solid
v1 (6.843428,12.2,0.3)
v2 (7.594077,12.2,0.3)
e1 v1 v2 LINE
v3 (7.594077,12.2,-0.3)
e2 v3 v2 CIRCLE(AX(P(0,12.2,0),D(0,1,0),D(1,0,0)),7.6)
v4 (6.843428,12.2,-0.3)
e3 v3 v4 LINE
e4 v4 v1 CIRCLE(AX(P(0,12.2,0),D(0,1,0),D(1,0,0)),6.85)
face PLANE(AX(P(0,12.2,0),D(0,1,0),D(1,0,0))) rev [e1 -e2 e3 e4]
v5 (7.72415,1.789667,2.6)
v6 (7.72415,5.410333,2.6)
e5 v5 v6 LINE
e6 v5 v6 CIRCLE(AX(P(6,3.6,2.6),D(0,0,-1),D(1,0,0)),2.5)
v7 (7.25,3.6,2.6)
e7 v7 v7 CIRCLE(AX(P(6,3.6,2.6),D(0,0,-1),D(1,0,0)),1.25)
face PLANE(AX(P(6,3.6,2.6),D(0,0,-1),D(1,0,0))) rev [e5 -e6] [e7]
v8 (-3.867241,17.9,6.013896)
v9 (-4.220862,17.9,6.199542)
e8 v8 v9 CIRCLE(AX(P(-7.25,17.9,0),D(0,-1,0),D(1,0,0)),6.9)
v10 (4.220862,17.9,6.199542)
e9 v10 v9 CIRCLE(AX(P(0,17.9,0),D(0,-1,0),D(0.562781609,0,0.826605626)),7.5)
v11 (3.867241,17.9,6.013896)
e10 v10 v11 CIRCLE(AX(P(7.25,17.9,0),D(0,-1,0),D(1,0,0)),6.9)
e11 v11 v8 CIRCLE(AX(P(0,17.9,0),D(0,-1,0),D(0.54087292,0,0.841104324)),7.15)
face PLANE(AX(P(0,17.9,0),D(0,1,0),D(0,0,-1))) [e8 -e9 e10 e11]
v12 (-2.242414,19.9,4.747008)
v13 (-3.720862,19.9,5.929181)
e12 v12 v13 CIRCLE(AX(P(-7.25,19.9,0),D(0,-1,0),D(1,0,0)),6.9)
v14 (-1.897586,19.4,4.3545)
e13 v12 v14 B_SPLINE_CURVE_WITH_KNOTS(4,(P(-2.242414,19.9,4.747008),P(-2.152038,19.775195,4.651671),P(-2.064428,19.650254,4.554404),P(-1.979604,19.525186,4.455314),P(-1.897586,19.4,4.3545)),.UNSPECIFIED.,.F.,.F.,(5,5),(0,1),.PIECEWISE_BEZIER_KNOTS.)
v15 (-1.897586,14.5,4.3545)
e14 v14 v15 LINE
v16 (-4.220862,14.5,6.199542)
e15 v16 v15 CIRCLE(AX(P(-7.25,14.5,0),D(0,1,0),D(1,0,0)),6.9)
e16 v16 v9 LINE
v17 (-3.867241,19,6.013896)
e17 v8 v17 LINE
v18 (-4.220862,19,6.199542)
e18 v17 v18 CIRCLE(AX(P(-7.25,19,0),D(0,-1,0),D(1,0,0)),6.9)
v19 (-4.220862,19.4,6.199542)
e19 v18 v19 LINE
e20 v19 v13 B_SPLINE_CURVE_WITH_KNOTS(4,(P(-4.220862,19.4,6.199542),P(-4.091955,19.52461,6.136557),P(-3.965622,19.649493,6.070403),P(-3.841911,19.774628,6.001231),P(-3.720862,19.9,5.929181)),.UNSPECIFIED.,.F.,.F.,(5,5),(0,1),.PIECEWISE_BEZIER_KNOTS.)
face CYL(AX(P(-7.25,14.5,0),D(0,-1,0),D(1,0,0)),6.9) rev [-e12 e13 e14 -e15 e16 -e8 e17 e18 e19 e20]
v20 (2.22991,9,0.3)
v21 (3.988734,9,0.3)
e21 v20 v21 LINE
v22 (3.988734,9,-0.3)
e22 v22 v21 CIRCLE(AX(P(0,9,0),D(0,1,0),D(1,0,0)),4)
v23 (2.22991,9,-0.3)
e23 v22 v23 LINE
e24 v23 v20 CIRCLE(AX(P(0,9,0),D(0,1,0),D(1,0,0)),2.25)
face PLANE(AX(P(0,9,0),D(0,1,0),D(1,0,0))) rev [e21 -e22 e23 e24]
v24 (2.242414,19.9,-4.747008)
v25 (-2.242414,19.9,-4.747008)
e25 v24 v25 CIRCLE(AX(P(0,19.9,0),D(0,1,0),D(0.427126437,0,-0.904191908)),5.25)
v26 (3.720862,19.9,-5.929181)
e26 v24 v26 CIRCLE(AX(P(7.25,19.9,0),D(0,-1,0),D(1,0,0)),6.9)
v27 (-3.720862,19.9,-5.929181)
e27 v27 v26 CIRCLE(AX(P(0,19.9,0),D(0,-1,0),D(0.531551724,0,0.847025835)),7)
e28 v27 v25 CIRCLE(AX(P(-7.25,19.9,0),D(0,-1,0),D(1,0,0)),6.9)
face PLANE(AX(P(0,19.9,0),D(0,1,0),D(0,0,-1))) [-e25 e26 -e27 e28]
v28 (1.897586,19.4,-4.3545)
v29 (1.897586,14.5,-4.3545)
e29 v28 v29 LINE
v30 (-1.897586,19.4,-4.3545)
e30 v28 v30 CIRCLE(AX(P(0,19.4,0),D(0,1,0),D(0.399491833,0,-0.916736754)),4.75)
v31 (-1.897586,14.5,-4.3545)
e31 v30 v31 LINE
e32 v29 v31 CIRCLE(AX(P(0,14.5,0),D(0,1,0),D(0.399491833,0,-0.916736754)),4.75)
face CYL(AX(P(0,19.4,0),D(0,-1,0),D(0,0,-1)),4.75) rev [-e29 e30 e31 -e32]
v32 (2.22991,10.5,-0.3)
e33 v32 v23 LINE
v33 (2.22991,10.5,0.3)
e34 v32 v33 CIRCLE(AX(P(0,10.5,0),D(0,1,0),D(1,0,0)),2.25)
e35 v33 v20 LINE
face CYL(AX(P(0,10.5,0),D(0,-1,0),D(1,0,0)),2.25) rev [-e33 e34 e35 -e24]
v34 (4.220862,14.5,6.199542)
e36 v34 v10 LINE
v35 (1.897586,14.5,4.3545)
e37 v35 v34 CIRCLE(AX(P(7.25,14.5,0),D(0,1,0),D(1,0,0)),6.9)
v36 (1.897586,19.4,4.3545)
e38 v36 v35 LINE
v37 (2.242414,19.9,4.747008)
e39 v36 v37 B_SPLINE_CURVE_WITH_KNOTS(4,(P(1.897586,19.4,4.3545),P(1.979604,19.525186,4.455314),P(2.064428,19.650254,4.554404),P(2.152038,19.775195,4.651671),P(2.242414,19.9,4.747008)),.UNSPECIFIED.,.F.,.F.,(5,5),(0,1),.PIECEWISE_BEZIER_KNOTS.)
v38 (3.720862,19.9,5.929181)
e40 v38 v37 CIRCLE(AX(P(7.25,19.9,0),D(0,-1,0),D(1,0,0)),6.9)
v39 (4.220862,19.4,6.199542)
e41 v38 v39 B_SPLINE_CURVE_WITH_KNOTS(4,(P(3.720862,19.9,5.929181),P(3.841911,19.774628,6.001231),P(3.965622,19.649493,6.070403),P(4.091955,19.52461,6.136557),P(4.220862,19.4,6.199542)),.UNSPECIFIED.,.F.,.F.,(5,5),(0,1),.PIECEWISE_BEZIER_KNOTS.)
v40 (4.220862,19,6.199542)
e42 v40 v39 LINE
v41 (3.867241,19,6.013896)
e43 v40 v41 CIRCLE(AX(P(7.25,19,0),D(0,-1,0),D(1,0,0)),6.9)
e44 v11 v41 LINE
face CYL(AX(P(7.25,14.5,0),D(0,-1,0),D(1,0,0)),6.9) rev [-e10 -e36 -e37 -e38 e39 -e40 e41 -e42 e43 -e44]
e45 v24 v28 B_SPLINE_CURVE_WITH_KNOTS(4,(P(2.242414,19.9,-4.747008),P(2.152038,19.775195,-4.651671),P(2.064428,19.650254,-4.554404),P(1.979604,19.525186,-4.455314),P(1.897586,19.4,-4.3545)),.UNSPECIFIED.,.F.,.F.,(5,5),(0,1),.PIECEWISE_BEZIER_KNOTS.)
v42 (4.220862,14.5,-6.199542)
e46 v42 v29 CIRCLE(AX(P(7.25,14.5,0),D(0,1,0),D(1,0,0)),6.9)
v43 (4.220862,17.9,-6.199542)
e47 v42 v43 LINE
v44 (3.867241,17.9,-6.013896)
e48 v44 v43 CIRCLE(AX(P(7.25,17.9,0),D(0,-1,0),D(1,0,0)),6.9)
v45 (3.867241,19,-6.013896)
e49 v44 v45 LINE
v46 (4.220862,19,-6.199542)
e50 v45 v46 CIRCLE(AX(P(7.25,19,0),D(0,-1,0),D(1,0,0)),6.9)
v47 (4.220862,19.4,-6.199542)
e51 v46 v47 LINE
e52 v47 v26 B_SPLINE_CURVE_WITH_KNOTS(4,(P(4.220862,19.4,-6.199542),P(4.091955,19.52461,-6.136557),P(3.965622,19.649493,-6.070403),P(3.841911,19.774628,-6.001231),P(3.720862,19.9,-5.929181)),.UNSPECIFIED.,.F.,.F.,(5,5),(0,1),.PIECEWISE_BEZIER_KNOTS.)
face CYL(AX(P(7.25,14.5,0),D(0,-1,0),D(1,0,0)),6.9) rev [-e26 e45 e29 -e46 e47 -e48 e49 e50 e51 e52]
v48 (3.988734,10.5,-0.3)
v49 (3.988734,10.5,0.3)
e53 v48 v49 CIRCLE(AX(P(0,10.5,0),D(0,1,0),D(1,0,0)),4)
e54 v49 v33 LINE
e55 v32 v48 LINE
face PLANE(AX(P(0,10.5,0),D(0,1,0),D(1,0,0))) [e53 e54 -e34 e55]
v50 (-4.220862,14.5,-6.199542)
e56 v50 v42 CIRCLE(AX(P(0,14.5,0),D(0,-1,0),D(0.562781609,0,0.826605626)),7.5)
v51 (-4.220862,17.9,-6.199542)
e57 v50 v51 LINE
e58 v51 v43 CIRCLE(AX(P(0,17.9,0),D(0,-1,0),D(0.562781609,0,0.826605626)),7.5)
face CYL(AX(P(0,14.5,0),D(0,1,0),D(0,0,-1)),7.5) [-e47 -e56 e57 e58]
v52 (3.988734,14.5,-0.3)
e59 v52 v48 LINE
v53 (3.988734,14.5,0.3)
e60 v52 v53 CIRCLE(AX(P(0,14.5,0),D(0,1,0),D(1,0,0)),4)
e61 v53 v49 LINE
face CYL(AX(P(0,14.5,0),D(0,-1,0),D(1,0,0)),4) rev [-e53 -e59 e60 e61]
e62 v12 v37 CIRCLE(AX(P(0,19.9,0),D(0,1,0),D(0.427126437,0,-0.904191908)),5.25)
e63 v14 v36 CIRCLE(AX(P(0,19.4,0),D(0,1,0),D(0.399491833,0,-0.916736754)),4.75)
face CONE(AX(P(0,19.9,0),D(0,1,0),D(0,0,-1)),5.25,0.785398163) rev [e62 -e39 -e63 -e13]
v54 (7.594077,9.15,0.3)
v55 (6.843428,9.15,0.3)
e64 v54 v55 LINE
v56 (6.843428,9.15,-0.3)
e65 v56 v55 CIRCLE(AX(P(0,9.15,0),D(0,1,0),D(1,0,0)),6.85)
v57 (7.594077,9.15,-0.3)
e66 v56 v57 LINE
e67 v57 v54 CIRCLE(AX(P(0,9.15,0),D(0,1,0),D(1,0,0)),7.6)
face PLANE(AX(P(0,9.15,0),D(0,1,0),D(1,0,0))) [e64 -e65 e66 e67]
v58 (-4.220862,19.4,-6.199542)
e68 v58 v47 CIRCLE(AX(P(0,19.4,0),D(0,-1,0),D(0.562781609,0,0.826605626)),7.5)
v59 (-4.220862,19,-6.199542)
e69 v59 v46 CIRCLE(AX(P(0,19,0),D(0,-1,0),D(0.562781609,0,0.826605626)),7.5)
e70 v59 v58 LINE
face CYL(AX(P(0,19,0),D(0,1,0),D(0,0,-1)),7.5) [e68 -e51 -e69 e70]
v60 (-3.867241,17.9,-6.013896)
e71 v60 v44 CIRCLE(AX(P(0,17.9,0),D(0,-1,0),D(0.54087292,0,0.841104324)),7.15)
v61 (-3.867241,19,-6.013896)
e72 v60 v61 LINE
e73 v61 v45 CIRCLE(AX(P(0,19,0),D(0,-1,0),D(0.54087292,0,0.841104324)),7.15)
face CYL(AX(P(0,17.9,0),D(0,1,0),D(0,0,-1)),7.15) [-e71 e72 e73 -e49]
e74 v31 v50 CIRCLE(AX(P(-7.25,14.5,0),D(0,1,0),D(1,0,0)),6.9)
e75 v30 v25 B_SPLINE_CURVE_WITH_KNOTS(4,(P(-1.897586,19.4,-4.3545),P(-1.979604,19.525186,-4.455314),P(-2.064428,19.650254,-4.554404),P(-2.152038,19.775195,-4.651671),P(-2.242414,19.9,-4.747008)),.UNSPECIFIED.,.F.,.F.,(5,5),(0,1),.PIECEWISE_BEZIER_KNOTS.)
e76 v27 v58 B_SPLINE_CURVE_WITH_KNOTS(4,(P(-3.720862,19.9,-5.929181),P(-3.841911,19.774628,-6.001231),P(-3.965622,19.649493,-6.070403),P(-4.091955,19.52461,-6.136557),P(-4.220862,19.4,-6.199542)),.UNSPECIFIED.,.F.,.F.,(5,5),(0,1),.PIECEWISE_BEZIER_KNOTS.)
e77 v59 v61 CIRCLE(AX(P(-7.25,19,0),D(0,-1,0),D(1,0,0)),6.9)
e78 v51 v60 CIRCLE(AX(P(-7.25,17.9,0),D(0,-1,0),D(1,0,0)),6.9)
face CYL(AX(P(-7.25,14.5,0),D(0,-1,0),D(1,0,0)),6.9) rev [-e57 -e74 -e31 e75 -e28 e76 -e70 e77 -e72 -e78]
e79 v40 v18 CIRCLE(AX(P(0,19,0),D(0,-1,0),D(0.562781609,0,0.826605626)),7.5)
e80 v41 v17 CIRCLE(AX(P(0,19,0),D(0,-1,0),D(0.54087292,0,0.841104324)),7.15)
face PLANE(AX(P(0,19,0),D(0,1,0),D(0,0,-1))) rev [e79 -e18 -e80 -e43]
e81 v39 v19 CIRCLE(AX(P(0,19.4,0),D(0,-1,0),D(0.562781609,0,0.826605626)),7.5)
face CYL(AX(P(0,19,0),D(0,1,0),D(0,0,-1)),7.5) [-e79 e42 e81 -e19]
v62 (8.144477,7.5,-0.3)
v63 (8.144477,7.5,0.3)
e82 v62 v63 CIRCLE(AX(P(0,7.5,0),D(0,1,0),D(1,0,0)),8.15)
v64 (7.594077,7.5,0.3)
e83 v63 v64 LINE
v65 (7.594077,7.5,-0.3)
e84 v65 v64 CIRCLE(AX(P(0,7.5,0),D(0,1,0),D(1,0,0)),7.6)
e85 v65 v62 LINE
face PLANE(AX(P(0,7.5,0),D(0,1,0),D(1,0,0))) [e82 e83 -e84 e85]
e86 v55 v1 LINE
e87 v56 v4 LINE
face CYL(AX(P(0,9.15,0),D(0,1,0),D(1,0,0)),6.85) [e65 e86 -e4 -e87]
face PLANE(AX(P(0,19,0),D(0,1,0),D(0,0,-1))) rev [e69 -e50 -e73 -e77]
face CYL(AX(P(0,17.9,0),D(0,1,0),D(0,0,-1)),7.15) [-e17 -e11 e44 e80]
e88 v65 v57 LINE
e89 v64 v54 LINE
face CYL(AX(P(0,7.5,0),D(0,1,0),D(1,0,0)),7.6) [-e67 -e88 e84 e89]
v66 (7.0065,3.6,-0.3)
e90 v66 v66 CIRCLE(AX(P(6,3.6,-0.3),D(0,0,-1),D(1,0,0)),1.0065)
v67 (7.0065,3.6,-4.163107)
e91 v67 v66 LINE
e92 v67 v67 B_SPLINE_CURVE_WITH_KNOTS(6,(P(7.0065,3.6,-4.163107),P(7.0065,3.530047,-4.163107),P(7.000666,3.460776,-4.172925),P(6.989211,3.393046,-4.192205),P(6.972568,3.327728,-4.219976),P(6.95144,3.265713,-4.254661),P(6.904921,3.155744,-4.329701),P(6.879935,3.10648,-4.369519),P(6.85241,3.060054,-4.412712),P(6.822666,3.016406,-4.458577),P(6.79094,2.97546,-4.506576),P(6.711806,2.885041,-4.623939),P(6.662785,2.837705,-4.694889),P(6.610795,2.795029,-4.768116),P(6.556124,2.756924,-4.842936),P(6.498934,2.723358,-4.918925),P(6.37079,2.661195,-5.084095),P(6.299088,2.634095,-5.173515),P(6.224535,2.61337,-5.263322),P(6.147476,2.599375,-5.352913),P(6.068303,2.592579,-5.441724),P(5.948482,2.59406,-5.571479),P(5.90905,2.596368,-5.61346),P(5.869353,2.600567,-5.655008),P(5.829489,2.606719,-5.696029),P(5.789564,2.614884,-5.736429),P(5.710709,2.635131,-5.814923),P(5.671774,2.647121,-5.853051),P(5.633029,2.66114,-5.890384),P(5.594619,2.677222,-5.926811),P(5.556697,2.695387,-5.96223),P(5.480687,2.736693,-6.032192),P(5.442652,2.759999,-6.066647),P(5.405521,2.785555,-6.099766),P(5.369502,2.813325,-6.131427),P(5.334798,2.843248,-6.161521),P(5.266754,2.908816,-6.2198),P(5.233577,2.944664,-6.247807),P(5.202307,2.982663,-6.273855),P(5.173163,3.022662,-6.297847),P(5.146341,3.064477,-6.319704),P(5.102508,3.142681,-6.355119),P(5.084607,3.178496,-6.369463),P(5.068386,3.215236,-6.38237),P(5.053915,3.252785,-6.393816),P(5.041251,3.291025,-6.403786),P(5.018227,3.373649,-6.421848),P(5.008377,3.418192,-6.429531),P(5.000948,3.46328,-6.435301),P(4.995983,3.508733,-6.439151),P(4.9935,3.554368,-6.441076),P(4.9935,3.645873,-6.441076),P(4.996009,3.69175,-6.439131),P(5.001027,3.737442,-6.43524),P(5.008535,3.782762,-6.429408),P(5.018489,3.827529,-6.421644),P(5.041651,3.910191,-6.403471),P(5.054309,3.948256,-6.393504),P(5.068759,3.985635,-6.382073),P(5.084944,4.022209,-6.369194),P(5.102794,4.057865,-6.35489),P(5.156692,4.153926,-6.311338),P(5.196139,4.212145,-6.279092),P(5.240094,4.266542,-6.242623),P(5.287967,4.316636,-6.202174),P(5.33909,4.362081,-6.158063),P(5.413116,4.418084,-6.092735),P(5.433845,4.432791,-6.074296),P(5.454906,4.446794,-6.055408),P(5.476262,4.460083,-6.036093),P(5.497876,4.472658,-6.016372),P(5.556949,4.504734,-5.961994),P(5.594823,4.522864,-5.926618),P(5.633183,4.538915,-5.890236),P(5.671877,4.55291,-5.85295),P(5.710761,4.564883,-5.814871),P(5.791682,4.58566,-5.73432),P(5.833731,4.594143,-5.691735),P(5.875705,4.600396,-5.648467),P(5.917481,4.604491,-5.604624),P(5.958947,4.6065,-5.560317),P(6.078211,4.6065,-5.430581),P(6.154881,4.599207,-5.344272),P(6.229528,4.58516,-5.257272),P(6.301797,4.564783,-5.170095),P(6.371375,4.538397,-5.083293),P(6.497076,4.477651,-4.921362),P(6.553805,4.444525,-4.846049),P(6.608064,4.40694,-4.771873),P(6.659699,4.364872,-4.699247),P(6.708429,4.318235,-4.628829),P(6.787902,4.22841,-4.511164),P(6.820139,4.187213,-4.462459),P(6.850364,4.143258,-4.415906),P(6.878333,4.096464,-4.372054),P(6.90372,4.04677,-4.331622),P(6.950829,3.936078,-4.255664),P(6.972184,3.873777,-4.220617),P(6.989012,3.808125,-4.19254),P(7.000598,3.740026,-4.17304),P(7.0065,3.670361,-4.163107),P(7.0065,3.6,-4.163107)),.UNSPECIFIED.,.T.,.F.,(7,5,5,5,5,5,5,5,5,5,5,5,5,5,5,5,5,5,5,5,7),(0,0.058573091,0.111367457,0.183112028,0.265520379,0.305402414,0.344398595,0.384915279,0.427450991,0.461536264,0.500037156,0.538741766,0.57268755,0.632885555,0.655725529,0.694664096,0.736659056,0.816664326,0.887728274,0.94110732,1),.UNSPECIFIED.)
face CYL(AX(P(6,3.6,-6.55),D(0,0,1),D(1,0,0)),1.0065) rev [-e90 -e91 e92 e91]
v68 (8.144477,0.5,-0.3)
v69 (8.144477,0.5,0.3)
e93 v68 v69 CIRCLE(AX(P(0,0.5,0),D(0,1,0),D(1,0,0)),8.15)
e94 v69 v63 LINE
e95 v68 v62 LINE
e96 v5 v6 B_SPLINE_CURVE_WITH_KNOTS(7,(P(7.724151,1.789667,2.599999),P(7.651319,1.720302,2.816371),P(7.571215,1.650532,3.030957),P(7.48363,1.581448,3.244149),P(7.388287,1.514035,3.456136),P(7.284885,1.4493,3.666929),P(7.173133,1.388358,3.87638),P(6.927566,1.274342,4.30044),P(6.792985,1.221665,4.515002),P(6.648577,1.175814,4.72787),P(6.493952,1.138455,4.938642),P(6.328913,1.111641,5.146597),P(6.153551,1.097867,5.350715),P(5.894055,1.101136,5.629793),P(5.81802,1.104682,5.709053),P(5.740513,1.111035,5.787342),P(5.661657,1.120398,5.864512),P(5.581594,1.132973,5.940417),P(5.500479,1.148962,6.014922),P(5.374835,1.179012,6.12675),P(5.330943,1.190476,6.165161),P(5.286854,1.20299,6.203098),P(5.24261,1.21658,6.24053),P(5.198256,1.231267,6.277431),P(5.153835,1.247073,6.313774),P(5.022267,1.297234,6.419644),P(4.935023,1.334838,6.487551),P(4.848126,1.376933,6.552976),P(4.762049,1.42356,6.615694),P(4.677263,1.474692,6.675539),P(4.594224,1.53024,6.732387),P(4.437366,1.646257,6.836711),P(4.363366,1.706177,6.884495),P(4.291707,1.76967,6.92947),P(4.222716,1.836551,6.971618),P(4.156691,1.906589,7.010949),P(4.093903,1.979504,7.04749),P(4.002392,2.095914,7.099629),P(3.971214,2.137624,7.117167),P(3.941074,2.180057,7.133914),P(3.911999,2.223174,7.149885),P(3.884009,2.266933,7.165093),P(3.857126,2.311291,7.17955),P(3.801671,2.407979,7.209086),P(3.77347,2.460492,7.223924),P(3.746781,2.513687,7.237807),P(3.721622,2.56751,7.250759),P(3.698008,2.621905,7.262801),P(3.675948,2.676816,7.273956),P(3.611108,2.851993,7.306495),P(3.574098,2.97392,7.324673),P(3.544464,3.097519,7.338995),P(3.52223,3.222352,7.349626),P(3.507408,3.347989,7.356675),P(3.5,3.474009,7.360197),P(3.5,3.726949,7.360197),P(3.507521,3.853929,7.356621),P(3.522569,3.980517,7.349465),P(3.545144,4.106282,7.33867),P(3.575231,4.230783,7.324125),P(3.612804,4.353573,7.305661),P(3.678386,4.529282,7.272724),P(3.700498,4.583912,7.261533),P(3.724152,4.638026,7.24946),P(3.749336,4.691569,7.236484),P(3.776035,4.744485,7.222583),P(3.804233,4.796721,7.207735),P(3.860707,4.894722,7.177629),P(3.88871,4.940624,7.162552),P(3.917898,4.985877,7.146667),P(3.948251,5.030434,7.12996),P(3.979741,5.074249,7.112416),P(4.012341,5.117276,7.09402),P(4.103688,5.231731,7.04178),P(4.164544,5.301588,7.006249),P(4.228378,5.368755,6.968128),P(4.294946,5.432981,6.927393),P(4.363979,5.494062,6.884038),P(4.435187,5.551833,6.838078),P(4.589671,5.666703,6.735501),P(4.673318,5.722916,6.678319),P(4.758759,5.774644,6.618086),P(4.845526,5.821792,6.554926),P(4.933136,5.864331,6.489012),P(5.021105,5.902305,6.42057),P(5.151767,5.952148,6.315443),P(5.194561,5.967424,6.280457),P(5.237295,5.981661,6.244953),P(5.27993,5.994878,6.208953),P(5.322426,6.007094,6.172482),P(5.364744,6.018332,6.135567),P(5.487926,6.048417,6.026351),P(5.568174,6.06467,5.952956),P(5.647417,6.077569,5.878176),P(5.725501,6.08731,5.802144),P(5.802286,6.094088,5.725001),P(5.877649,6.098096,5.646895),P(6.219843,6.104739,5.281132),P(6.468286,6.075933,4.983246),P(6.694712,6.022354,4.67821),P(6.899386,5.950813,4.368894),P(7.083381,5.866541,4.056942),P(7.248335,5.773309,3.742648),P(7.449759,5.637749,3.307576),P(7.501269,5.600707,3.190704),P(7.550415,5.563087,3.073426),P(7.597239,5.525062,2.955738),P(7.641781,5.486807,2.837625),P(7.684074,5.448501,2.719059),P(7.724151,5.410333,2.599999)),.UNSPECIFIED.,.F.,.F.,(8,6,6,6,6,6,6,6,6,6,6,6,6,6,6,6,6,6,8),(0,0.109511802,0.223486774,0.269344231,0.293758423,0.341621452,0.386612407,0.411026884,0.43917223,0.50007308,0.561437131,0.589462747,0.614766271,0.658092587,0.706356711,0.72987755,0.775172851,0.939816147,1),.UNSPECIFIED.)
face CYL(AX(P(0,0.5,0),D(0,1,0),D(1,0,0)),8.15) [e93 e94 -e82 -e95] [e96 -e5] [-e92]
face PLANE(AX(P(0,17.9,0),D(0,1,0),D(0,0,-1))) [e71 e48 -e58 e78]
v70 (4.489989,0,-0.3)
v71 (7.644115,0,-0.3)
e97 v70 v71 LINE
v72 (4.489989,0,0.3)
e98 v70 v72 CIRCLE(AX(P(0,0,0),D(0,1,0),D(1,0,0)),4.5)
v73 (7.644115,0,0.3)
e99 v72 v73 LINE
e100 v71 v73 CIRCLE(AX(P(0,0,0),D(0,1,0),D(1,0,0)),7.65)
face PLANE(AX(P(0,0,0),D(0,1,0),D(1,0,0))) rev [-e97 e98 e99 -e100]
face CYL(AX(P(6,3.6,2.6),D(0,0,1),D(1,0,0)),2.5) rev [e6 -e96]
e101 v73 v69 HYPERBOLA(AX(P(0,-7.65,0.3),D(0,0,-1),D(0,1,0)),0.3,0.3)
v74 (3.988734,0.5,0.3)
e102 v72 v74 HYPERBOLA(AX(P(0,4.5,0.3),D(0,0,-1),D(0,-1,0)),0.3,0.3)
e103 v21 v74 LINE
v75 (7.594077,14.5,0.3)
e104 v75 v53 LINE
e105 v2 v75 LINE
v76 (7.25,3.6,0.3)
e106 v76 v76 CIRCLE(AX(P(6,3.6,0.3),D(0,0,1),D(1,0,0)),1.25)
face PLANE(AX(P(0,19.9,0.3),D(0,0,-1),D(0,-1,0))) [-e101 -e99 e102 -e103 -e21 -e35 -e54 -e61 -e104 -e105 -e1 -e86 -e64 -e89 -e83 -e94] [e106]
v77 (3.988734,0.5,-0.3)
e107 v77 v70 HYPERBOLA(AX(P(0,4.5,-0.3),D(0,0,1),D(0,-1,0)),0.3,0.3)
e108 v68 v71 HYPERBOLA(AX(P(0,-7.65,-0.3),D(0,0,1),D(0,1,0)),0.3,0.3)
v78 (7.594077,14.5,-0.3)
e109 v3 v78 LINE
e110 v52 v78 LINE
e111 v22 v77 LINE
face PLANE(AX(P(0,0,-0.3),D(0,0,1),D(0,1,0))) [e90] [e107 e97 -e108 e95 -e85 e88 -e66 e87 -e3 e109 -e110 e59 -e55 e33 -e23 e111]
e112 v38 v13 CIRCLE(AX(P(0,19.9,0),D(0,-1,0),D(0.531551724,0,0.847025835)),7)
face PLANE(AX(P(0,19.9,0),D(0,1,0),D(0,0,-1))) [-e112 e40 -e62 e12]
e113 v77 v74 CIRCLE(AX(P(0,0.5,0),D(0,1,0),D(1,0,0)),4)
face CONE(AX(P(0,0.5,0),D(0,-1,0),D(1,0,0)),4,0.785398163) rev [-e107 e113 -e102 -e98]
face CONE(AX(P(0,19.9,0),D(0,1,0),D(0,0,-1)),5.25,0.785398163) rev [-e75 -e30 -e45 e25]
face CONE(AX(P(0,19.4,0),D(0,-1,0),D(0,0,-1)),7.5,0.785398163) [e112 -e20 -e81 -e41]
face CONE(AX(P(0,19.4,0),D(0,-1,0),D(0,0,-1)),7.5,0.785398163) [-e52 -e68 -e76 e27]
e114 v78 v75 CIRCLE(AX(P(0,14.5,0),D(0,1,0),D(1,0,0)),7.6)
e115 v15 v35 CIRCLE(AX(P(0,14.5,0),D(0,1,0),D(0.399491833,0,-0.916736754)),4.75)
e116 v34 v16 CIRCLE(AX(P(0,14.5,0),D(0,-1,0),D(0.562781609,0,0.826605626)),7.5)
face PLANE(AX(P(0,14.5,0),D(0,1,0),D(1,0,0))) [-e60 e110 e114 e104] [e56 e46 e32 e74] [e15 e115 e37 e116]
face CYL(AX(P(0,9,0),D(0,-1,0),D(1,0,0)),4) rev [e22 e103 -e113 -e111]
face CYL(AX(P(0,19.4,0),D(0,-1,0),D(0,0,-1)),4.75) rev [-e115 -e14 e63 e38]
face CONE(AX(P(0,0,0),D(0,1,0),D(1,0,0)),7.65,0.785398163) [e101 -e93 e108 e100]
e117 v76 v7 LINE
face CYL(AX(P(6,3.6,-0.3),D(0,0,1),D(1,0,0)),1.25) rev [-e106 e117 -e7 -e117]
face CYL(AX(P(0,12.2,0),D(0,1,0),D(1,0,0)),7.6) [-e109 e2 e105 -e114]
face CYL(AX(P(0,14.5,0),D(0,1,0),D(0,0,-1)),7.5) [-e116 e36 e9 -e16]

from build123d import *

# Parameters (mm, degrees)
SKETCH3_R          = 6.9
CUT_EXTRUDE1_DEPTH = 6
SKETCH4_R          = 6.9
CUT_EXTRUDE2_DEPTH = 6
CUT_EXTRUDE3_DEPTH = 8.15


with BuildPart() as part:
    # Sketch1 → Revolve1 (revolve)
    with BuildSketch(Plane.XY):
        Polygon((2.25, 9), (4, 9), (4, 0.5), (4.5, 0), (7.65, 0), (8.15, 0.5), (8.15, 7.5), (7.6, 7.5), (7.6, 9.15), (6.85, 9.15), (6.85, 12.2), (7.6, 12.2), (7.6, 14.5), (4, 14.5), (4, 10.5), (2.25, 10.5), align=None)
    revolve(axis=Axis((0, 0, 0), (0, 1, 0)))

    # Sketch2 → Revolve2 (revolve)
    with BuildSketch(Plane(origin=(0, 0, 0), x_dir=(0, 0, -1), z_dir=(1, 0, 0))):
        Polygon((4.75, 14.5), (7.5, 14.5), (7.5, 17.9), (7.15, 17.9), (7.15, 19), (7.5, 19), (7.5, 19.4), (7, 19.9), (5.25, 19.9), (4.75, 19.4), align=None)
    revolve(axis=Axis((0, 14.5, 0), (0, 1, 0)))

    # Sketch3 → Cut-Extrude1 (cut)
    with BuildSketch(Plane(origin=(0, 14.5, 0), x_dir=(1, 0, 0), z_dir=(0, 1, 0))):
        with Locations((7.25, 0)):
            Circle(SKETCH3_R)
    extrude(amount=CUT_EXTRUDE1_DEPTH, mode=Mode.SUBTRACT)

    # Sketch4 → Cut-Extrude2 (cut)
    with BuildSketch(Plane(origin=(0, 14.5, 0), x_dir=(1, 0, 0), z_dir=(0, 1, 0))):
        with Locations((-7.25, 0)):
            Circle(SKETCH4_R)
    extrude(amount=CUT_EXTRUDE2_DEPTH, mode=Mode.SUBTRACT)

    # Sketch5 → Cut-Revolve1 (revolve, cut)
    with BuildSketch(Plane(origin=(0, 3.6, 0), x_dir=(1, 0, 0), z_dir=(0, 1, 0))):
        Polygon((6, 6.55), (7.0065, 6.55), (7.0065, 0.3), (7.25, 0.3), (7.25, -2.6), (8.5, -2.6), (8.5, -8.15), (6, -8.15), align=None)
    revolve(axis=Axis((6, 3.6, 8.15), (0, 0, -1)), mode=Mode.SUBTRACT)

    # Sketch6 → Cut-Extrude3 (cut)
    with BuildSketch(Plane(origin=(0, 0, 0), x_dir=(0, 0, -1), z_dir=(1, 0, 0))):
        with BuildLine():
            Line((-0.3, 19.9), (-0.3, 0))
            Line((-0.3, 0), (0.3, 0))
            Line((0.3, 0), (0.3, 19.9))
            ThreePointArc((0.3, 19.9), (0, 20.2), (-0.3, 19.9))
        make_face()
    extrude(amount=CUT_EXTRUDE3_DEPTH, mode=Mode.SUBTRACT)


solid = part.part
